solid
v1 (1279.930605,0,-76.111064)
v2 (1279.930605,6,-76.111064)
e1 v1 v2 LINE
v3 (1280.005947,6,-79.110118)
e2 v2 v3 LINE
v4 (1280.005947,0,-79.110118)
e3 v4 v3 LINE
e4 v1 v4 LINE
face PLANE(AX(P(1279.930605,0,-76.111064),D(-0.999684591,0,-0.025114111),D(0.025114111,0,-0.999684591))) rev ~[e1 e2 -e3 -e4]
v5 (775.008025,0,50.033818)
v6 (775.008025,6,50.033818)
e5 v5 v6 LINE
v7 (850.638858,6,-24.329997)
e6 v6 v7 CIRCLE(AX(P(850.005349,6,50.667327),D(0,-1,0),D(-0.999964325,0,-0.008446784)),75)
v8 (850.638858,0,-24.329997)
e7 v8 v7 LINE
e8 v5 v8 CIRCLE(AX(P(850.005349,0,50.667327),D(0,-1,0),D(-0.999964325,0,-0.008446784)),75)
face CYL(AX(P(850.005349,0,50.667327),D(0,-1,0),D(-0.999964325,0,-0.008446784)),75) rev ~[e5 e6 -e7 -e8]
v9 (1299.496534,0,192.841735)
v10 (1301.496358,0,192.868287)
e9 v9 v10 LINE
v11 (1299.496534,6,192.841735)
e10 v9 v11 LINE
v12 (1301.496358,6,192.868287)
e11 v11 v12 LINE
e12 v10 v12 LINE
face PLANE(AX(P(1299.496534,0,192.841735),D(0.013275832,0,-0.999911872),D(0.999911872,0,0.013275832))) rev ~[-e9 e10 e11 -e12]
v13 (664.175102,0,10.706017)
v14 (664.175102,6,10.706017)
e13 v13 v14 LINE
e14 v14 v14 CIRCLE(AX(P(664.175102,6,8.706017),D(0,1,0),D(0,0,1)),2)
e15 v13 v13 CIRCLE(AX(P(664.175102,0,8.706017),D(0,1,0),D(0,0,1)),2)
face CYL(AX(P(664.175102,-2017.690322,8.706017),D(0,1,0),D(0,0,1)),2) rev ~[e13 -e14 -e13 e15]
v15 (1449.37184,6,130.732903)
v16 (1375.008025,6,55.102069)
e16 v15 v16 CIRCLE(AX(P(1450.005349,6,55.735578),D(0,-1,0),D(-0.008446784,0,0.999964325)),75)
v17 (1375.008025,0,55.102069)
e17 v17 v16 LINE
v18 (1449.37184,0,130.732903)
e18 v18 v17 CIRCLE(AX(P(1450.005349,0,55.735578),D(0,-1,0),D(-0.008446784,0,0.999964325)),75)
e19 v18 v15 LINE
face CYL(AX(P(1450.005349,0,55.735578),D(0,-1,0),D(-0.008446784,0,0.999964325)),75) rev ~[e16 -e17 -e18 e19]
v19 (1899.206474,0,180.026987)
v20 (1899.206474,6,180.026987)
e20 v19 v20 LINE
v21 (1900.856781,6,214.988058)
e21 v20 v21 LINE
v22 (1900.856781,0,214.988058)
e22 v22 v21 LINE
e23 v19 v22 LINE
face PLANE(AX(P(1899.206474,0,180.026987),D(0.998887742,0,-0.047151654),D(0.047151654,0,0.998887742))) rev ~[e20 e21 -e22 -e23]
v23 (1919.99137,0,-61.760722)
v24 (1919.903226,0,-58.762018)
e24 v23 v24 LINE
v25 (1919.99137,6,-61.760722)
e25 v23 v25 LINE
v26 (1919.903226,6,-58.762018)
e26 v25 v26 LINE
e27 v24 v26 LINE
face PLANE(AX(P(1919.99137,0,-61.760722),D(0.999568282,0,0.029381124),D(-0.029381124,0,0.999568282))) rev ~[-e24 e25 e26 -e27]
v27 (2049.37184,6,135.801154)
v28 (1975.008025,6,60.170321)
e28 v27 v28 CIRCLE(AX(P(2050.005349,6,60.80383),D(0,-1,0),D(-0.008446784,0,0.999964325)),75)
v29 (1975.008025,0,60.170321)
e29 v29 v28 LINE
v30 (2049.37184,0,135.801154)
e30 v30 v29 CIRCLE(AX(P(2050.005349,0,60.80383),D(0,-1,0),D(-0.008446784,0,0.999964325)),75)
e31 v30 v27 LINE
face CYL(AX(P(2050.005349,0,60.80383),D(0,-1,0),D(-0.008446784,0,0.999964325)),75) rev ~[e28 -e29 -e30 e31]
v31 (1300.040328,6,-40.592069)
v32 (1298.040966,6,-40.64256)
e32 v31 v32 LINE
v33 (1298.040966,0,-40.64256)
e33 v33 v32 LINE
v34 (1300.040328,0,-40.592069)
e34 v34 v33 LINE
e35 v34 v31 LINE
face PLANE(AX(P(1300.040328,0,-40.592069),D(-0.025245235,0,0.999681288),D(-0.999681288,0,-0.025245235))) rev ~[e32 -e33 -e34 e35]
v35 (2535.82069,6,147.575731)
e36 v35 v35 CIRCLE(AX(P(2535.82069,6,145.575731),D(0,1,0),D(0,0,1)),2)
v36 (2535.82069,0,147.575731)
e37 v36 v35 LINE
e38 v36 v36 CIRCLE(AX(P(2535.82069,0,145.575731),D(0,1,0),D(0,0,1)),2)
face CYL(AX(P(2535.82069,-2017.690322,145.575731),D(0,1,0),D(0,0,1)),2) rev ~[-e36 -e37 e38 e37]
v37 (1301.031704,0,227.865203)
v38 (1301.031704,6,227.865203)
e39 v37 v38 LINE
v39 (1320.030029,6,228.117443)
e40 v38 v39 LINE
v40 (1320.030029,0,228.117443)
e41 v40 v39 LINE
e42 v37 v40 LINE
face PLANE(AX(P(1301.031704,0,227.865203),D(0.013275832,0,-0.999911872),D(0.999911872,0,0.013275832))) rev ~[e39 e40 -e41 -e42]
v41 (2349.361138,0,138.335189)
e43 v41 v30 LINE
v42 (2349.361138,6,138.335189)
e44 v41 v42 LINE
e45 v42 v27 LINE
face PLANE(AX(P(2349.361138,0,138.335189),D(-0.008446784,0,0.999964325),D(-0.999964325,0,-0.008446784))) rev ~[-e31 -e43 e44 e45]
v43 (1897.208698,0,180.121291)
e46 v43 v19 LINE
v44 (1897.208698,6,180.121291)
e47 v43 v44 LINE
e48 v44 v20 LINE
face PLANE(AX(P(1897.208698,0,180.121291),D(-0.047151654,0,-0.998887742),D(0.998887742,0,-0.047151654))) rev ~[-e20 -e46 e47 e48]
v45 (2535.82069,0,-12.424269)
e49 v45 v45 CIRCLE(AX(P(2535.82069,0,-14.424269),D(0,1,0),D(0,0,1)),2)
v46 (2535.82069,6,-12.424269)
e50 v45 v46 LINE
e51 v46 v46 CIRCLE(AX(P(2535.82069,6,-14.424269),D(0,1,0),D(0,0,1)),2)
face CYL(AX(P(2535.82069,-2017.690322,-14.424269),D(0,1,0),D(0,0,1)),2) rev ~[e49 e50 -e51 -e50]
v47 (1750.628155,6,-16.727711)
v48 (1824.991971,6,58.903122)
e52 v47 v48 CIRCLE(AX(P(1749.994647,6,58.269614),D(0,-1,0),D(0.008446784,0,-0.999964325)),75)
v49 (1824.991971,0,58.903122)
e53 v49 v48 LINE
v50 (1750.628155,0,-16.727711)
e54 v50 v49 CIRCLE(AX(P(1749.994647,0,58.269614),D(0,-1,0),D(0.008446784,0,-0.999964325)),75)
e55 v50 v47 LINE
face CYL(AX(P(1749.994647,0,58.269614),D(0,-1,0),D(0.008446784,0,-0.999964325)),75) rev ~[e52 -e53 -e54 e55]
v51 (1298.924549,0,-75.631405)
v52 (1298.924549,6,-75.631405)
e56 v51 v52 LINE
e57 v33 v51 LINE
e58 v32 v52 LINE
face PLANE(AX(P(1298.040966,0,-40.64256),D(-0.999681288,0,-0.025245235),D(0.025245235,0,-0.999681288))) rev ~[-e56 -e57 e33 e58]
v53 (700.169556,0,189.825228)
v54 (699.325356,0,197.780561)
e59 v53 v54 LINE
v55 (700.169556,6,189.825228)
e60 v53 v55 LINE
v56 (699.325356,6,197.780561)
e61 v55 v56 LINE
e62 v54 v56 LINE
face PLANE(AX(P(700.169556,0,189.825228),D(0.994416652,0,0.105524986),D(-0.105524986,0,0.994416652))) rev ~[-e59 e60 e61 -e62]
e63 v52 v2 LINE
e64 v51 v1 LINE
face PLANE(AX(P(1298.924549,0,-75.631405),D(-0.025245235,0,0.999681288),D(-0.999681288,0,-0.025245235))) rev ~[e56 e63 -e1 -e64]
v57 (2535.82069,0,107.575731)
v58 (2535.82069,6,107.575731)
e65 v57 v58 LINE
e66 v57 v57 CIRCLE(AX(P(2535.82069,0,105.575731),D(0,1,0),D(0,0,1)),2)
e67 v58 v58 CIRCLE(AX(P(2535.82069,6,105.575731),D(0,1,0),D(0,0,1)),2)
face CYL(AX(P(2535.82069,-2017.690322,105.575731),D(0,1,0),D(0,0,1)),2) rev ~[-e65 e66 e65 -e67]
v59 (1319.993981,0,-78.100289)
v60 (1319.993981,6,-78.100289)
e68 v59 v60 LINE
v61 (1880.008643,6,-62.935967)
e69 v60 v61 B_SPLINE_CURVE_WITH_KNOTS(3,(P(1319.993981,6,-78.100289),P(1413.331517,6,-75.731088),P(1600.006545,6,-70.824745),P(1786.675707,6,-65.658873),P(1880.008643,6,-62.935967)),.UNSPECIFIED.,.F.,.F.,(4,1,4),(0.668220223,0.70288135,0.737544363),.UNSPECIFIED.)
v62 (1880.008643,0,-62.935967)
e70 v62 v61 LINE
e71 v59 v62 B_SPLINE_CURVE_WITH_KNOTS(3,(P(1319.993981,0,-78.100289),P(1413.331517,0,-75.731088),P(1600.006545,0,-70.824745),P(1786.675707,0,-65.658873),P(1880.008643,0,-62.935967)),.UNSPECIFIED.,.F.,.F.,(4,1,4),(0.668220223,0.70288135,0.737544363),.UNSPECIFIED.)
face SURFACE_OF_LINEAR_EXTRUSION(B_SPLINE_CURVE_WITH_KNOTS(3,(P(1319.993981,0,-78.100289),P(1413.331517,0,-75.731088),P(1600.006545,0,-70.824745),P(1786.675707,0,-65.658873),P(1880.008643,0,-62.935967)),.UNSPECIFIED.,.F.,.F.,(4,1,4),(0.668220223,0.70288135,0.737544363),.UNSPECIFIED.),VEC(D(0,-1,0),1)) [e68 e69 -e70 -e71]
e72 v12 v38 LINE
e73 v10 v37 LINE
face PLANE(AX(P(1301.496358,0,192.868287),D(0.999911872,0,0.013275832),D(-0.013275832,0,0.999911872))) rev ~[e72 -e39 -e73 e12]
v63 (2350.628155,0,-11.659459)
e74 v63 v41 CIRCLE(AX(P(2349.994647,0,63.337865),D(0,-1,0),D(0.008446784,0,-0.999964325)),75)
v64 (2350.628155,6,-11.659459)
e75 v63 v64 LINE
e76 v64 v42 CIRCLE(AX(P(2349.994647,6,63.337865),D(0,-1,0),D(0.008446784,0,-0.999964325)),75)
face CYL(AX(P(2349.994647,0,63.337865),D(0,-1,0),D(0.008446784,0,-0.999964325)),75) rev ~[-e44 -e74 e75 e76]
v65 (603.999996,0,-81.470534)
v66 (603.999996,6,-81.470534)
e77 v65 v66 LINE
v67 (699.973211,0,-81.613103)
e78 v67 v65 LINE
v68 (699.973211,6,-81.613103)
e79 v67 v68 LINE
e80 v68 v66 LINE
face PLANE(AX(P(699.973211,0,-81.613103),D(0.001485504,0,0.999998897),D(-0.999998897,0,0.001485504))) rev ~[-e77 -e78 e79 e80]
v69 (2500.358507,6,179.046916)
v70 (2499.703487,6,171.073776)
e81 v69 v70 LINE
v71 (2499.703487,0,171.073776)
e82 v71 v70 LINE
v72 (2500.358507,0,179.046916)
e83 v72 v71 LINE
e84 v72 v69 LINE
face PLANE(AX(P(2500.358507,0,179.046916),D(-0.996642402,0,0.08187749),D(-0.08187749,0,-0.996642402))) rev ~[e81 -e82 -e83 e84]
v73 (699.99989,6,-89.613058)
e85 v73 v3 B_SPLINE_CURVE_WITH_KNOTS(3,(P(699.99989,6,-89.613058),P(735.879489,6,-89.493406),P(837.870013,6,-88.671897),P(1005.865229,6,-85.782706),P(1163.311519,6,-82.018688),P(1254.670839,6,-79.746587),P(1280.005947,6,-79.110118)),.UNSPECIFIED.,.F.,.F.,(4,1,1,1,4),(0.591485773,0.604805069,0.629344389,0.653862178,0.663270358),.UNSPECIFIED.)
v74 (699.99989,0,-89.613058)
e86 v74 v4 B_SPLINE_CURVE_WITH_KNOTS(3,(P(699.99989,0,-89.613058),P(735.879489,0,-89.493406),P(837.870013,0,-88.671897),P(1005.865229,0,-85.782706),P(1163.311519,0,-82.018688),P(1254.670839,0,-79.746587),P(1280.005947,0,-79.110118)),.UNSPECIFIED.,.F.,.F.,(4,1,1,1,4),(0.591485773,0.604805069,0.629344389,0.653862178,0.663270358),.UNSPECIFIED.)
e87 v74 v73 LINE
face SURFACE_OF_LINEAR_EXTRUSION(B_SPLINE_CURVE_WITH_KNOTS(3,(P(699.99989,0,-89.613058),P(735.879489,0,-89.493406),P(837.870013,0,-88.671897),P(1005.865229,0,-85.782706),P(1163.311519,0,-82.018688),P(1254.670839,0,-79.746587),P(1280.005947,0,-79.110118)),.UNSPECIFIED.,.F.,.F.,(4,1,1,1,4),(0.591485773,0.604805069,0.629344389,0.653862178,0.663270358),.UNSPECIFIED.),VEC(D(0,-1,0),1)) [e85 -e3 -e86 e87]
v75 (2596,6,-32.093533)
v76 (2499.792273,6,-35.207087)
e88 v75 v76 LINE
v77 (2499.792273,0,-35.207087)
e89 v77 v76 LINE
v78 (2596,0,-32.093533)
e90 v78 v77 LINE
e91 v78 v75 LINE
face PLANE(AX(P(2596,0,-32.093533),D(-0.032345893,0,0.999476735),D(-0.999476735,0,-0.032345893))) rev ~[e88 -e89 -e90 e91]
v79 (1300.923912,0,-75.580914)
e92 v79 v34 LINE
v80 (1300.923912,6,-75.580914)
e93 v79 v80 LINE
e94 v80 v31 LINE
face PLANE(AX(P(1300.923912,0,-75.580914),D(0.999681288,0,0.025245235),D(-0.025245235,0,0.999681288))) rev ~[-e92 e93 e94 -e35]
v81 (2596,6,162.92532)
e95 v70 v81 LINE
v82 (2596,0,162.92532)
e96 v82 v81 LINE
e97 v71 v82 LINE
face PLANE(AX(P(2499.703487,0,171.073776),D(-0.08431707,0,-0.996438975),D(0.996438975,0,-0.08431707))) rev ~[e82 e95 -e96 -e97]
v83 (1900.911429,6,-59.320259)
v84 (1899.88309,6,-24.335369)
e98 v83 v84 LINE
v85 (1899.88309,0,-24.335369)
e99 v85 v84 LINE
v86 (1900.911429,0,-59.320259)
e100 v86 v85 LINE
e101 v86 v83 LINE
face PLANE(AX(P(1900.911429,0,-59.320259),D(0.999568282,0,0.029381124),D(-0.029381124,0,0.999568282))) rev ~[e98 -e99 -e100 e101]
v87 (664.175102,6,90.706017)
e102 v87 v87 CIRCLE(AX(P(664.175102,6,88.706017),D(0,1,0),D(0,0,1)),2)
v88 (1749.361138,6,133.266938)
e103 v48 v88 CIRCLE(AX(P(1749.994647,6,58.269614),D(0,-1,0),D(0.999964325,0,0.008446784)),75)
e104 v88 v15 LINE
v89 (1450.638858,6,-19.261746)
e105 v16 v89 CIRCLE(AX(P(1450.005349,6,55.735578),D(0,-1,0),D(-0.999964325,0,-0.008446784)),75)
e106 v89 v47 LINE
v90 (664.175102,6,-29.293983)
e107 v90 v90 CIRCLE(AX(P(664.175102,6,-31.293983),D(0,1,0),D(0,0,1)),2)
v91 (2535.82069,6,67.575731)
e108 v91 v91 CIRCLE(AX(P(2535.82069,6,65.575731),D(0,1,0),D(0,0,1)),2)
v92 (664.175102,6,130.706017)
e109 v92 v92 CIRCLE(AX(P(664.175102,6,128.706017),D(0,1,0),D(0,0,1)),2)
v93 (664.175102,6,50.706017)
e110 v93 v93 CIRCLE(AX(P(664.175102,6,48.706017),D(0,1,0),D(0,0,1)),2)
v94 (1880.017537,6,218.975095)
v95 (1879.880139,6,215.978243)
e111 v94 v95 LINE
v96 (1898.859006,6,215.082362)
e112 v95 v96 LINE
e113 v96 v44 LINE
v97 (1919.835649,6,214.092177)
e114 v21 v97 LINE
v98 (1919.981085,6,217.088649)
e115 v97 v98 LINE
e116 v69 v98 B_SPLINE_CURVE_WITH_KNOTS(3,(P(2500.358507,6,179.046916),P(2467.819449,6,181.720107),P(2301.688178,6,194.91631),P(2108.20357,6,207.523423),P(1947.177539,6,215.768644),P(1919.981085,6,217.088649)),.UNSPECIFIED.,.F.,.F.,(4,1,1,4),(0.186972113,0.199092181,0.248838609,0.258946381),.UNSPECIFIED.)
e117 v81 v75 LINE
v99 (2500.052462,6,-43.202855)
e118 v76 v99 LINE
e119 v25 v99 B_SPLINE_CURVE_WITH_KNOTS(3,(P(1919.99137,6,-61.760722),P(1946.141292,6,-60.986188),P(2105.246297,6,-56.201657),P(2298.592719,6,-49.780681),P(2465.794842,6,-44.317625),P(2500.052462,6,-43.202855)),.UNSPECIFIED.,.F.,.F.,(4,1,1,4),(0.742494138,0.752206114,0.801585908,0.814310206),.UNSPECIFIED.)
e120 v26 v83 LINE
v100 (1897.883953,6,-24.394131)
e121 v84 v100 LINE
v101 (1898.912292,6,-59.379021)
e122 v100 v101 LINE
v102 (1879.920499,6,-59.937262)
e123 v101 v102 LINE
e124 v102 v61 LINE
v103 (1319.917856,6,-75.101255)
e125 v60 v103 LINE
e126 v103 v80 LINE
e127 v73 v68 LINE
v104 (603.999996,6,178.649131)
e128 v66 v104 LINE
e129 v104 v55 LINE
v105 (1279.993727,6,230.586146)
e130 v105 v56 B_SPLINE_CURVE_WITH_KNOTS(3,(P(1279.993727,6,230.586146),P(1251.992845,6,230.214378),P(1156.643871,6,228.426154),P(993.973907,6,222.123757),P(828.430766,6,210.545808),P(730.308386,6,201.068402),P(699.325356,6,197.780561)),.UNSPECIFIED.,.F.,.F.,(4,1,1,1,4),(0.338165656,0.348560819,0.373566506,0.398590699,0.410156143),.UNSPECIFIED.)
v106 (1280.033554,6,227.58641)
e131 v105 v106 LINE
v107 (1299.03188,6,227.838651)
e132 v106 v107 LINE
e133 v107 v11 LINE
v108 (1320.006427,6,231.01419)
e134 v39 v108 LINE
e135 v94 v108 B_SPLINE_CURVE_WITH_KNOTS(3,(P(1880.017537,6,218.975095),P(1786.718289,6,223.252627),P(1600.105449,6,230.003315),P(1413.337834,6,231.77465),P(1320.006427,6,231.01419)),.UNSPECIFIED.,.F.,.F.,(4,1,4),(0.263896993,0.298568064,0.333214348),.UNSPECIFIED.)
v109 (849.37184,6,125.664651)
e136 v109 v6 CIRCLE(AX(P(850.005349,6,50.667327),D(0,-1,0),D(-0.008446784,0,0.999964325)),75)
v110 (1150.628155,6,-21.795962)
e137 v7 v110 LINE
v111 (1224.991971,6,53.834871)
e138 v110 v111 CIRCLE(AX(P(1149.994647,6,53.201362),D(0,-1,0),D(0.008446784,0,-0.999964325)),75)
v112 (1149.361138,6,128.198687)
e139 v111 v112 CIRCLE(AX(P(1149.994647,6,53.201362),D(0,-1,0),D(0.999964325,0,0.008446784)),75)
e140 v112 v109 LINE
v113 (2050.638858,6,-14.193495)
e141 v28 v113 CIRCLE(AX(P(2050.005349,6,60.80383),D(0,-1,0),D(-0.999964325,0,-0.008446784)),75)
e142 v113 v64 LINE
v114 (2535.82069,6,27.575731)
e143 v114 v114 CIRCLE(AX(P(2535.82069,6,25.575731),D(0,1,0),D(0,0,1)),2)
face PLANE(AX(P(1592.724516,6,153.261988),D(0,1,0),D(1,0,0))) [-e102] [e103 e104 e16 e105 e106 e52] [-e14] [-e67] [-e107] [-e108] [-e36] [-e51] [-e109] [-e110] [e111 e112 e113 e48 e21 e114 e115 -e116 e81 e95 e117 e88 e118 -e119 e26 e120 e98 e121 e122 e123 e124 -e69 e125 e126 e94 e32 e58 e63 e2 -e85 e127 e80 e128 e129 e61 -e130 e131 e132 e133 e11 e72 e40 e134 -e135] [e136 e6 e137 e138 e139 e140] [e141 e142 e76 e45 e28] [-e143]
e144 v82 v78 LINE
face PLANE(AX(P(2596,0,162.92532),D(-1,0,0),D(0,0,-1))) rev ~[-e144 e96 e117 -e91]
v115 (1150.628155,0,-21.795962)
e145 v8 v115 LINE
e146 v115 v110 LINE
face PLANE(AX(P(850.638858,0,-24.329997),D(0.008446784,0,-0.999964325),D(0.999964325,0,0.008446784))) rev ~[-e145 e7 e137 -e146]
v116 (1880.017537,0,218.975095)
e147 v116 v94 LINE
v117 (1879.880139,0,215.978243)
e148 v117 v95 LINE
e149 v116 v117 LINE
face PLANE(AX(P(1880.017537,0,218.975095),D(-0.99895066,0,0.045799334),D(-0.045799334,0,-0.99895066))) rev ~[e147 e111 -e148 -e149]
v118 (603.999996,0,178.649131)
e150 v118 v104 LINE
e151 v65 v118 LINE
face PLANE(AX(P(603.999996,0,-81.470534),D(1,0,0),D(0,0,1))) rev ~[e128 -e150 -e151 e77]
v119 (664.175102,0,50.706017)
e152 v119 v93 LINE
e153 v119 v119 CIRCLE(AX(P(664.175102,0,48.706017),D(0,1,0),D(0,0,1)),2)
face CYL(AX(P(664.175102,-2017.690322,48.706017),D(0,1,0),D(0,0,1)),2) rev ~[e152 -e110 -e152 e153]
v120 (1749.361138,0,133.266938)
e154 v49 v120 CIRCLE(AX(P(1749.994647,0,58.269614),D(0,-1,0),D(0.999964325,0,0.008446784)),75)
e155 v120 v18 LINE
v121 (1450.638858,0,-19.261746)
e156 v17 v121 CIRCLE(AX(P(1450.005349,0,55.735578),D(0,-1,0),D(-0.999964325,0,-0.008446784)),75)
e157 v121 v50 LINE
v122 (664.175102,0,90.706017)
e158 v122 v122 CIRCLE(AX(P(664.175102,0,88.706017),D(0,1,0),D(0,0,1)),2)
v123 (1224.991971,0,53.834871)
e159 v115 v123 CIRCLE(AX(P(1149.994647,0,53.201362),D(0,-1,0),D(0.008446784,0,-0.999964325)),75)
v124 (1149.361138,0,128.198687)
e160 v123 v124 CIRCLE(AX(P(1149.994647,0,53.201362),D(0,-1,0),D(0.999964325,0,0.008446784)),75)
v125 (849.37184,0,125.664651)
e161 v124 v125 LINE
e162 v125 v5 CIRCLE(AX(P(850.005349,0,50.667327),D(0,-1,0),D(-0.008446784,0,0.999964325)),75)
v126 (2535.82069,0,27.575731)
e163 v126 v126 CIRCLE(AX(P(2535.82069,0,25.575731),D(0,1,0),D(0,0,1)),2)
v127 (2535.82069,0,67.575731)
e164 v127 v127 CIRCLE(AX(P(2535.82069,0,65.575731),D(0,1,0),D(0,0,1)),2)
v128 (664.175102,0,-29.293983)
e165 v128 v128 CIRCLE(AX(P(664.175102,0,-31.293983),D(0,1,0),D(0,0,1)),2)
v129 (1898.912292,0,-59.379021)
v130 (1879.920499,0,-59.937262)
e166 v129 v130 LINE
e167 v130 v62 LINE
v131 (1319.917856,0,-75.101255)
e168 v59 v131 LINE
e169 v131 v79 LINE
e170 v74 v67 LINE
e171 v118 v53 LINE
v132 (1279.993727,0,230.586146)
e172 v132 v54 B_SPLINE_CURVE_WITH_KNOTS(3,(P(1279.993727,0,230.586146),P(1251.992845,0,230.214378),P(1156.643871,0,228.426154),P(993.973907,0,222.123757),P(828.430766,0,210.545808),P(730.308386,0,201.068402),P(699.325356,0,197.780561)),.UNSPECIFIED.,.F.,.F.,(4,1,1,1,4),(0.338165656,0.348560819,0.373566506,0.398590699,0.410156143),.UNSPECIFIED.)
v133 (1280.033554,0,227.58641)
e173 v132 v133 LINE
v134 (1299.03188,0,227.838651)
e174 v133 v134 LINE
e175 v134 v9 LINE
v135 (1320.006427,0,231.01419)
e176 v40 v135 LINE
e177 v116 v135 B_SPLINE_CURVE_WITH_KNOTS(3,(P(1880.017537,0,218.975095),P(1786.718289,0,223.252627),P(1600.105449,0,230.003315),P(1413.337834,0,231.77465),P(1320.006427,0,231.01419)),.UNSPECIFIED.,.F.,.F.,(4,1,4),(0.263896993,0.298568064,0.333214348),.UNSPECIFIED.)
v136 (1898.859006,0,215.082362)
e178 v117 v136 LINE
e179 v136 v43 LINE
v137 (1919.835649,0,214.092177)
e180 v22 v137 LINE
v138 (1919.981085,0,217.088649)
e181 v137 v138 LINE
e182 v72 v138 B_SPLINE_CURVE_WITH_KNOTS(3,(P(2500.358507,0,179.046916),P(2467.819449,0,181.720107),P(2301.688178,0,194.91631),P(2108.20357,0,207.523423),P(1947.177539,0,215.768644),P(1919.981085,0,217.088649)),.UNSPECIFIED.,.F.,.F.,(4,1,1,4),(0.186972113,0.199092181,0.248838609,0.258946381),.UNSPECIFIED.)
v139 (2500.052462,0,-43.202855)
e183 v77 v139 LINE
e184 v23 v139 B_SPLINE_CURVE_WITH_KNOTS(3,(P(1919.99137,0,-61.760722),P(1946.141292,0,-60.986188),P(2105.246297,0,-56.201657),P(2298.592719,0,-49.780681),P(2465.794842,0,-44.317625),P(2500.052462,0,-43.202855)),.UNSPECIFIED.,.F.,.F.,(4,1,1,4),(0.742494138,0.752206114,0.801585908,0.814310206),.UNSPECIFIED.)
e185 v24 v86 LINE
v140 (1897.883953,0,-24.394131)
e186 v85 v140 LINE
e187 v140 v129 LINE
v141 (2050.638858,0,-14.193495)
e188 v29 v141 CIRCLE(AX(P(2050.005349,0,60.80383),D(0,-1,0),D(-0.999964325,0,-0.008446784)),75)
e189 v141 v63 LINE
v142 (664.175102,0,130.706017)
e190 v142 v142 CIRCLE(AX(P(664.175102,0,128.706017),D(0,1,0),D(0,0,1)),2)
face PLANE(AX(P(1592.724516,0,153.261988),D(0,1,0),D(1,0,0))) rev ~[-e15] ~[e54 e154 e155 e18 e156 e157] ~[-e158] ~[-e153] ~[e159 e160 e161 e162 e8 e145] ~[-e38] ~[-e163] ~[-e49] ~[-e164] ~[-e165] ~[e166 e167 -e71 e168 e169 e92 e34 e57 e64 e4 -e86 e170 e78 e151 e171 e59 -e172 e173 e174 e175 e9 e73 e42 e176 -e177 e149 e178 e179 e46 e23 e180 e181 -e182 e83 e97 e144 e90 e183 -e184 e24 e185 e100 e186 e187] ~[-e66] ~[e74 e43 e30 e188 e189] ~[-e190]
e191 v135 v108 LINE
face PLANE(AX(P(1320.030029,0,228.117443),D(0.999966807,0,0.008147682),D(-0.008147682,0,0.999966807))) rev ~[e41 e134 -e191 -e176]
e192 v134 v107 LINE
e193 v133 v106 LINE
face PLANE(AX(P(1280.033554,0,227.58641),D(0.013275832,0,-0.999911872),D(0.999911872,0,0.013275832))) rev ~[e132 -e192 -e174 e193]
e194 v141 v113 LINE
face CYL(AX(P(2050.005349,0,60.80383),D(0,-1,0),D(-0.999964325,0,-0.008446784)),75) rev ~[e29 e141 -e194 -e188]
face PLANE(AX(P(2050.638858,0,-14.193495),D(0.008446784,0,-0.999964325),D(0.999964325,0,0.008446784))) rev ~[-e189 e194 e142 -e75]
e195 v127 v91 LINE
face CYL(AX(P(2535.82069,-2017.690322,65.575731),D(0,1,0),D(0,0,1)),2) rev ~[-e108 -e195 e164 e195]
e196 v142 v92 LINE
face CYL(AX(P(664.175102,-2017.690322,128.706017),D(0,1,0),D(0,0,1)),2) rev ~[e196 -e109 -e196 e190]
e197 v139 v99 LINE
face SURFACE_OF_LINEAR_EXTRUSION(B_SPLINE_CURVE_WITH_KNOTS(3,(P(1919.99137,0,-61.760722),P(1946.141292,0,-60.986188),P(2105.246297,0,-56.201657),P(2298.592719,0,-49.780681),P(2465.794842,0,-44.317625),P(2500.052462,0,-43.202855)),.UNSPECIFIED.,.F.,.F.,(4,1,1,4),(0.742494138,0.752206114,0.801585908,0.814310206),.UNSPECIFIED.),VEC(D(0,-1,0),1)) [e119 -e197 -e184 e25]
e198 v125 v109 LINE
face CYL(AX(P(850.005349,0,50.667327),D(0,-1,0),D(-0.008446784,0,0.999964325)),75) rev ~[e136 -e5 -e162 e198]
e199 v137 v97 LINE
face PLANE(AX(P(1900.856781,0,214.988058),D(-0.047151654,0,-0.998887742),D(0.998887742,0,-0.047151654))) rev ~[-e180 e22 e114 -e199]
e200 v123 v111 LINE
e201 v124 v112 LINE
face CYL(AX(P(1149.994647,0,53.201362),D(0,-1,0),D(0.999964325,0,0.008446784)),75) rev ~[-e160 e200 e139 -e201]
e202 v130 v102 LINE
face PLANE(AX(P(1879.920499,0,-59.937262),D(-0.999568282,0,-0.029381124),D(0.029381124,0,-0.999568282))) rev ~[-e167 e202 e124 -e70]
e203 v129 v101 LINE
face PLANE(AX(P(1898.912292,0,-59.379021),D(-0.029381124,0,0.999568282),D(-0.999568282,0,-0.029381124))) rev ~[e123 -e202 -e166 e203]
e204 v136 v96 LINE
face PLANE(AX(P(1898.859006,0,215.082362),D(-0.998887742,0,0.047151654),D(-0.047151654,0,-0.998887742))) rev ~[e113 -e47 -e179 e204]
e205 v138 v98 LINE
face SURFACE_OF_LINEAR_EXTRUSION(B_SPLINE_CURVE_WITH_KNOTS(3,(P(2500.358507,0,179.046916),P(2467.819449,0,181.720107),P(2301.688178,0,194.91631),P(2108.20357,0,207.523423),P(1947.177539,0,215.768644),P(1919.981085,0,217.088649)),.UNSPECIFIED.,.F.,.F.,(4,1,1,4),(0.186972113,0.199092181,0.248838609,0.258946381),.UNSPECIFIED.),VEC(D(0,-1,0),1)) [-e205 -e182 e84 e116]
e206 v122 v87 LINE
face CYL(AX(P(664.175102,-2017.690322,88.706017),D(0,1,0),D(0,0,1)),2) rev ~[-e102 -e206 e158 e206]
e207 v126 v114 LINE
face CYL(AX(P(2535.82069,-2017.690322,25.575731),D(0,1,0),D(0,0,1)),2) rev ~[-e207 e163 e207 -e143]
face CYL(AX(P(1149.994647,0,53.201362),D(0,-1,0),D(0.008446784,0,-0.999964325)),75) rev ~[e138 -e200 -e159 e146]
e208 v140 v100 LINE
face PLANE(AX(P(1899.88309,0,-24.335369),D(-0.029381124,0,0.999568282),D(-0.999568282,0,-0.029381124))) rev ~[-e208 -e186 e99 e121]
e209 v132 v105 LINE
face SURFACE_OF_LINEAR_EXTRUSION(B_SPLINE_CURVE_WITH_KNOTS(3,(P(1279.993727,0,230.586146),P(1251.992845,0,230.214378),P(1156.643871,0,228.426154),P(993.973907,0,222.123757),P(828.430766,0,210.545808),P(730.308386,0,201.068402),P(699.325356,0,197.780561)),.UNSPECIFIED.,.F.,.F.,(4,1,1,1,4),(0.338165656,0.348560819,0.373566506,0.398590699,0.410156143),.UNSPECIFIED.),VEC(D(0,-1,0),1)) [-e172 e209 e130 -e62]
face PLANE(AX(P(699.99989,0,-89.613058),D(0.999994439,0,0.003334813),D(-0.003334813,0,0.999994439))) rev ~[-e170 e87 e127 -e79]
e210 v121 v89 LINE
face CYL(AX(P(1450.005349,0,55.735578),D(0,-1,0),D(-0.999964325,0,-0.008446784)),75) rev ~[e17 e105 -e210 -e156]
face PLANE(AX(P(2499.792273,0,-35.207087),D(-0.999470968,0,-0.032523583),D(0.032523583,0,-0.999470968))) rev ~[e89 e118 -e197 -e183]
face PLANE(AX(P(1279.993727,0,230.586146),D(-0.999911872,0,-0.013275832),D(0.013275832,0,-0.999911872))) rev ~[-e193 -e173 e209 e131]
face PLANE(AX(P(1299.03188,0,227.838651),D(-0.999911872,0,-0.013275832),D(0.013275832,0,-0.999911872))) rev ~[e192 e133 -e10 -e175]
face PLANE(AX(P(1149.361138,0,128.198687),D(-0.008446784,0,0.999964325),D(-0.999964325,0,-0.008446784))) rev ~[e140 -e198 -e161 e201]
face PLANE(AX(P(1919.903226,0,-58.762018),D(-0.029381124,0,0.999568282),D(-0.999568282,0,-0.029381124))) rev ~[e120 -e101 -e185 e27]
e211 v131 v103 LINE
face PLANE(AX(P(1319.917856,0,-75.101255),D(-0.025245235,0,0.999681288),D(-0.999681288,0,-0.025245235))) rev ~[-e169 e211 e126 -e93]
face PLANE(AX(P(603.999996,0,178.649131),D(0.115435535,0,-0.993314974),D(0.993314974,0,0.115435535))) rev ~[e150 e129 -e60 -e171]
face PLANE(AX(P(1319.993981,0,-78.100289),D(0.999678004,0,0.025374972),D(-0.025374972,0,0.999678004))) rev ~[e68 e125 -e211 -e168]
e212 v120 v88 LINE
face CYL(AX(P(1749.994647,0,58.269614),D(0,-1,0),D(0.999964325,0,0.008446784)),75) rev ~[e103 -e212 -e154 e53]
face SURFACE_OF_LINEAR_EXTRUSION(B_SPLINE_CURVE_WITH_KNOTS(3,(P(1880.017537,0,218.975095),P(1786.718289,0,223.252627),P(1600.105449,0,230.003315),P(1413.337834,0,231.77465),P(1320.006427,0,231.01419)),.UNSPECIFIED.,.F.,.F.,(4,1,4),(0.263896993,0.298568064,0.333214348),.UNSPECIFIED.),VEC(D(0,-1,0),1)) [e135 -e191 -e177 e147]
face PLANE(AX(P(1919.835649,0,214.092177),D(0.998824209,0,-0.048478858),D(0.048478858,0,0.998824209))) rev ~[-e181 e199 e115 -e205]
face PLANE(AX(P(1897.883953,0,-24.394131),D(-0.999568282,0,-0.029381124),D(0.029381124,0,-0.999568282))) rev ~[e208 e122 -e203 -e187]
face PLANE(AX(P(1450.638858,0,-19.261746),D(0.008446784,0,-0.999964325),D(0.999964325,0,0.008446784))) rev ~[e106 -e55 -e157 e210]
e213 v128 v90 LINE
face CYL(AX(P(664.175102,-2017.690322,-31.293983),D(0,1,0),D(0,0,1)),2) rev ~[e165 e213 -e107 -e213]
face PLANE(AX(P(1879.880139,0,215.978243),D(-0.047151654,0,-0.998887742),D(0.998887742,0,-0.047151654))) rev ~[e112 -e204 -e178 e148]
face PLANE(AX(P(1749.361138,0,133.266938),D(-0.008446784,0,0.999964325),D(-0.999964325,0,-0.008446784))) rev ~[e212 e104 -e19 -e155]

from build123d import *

# Parameters (mm, degrees)
BOSS_EXTRUDE1_DEPTH   = 6
F_4_0MM_DOWEL_HOLE1_D = 4
F_4_0MM_DOWEL_HOLE2_D = 4


with BuildPart() as part:
    # Sketch1 → Boss-Extrude1 (new body)
    with BuildSketch(Plane(origin=(0, 0, 0), x_dir=(1, 0, 0), z_dir=(0, 1, 0))):
        with BuildLine():
            Line((2499.703486599, -171.073776325), (2596, -162.925319615))
            Line((2596, -162.925319615), (2596, -65.415893177))
            Line((2596, -65.415893177), (2424.991970984, -63.971373722))
            ThreePointArc((2424.991970984, -63.971373722), (2402.577804859, -116.816939936), (2349.361137771, -138.3351893))
            Line((2349.361137771, -138.3351893), (2049.371840186, -135.801154032))
            ThreePointArc((2049.371840186, -135.801154032), (1996.526273972, -113.386987906), (1975.008024607, -60.170320818))
            Line((1975.008024607, -60.170320818), (1824.991970984, -58.903122375))
            ThreePointArc((1824.991970984, -58.903122375), (1802.577804859, -111.74868859), (1749.361137771, -133.266937954))
            Line((1749.361137771, -133.266937954), (1449.371840186, -130.732902685))
            ThreePointArc((1449.371840186, -130.732902685), (1396.526273972, -108.31873656), (1375.008024607, -55.102069472))
            Line((1375.008024607, -55.102069472), (1224.991970984, -53.834871029))
            ThreePointArc((1224.991970984, -53.834871029), (1202.577804859, -106.680437244), (1149.361137771, -128.198686608))
            Line((1149.361137771, -128.198686608), (849.371840186, -125.664651339))
            ThreePointArc((849.371840186, -125.664651339), (796.526273972, -103.250485214), (775.008024607, -50.033818126))
            Line((775.008024607, -50.033818126), (603.999995592, -48.58929867))
            Line((603.999995592, -48.58929867), (603.999995592, -178.649131079))
            Line((603.999995592, -178.649131079), (700.169555672, -189.82522818))
            Line((700.169555672, -189.82522818), (699.325355788, -197.780561394))
            add(Edge.make_bspline(
                [(1279.993726967, -230.586145743), (1251.992845438, -230.214377978), (1156.643871099, -228.426153503), (993.973907449, -222.123757287), (828.430766092, -210.545808412), (730.308385941, -201.068402366), (699.325355788, -197.780561394)],
                knots=[0.338165656, 0.338165656, 0.338165656, 0.338165656, 0.348560819, 0.373566506, 0.398590699, 0.410156143, 0.410156143, 0.410156143, 0.410156143], degree=3))
            Line((1279.993726967, -230.586145743), (1280.033554464, -227.586410126))
            Line((1280.033554464, -227.586410126), (1299.031880037, -227.838650935))
            Line((1299.031880037, -227.838650935), (1299.496534159, -192.841735406))
            Line((1299.496534159, -192.841735406), (1301.496357904, -192.86828707))
            Line((1301.496357904, -192.86828707), (1301.031703781, -227.865202599))
            Line((1301.031703781, -227.865202599), (1320.030029354, -228.117443409))
            Line((1320.030029354, -228.117443409), (1320.006426802, -231.014189882))
            add(Edge.make_bspline(
                [(1880.017536915, -218.975094986), (1786.718289466, -223.252626978), (1600.105449253, -230.003314719), (1413.337833656, -231.774649729), (1320.006426802, -231.014189882)],
                knots=[0.263896993, 0.263896993, 0.263896993, 0.263896993, 0.298568064, 0.333214348, 0.333214348, 0.333214348, 0.333214348], degree=3))
            Line((1880.017536915, -218.975094986), (1879.880138913, -215.978243006))
            Line((1879.880138913, -215.978243006), (1898.859006014, -215.082361576))
            Line((1898.859006014, -215.082361576), (1897.208698115, -180.121290599))
            Line((1897.208698115, -180.121290599), (1899.2064736, -180.02698729))
            Line((1899.2064736, -180.02698729), (1900.856781499, -214.988058267))
            Line((1900.856781499, -214.988058267), (1919.8356486, -214.092176836))
            Line((1919.8356486, -214.092176836), (1919.981085174, -217.088649463))
            add(Edge.make_bspline(
                [(2500.358506516, -179.046915538), (2467.819448595, -181.720107419), (2301.688178219, -194.916310103), (2108.203569807, -207.523423052), (1947.177539067, -215.76864439), (1919.981085174, -217.088649463)],
                knots=[0.186972113, 0.186972113, 0.186972113, 0.186972113, 0.199092181, 0.248838609, 0.258946381, 0.258946381, 0.258946381, 0.258946381], degree=3))
            Line((2500.358506516, -179.046915538), (2499.703486599, -171.073776325))
        make_face()
        with BuildLine():
            Line((2499.792273349, 35.207087267), (2500.052462016, 43.202855013))
            add(Edge.make_bspline(
                [(1919.991369728, 61.760722375), (1946.141292077, 60.986188213), (2105.246296635, 56.201656656), (2298.592719455, 49.780680894), (2465.794842369, 44.317625311), (2500.052462016, 43.202855013)],
                knots=[0.742494138, 0.742494138, 0.742494138, 0.742494138, 0.752206114, 0.801585908, 0.814310206, 0.814310206, 0.814310206, 0.814310206], degree=3))
            Line((1919.991369728, 61.760722375), (1919.903226355, 58.762017531))
            Line((1919.903226355, 58.762017531), (1900.911429005, 59.320258891))
            Line((1900.911429005, 59.320258891), (1899.883089657, 24.335369036))
            Line((1899.883089657, 24.335369036), (1897.883953094, 24.394131284))
            Line((1897.883953094, 24.394131284), (1898.912292442, 59.379021139))
            Line((1898.912292442, 59.379021139), (1879.920499189, 59.93726238))
            Line((1879.920499189, 59.93726238), (1880.008642561, 62.935967224))
            add(Edge.make_bspline(
                [(1319.993980998, 78.100288692), (1413.331517369, 75.731088455), (1600.006544772, 70.824745257), (1786.675707055, 65.658872993), (1880.008642561, 62.935967224)],
                knots=[0.668220223, 0.668220223, 0.668220223, 0.668220223, 0.70288135, 0.737544363, 0.737544363, 0.737544363, 0.737544363], degree=3))
            Line((1319.993980998, 78.100288692), (1319.917856082, 75.101254681))
            Line((1319.917856082, 75.101254681), (1300.923911605, 75.580914146))
            Line((1300.923911605, 75.580914146), (1300.040328379, 40.592069057))
            Line((1300.040328379, 40.592069057), (1298.040965803, 40.642559527))
            Line((1298.040965803, 40.642559527), (1298.924549029, 75.631404616))
            Line((1298.924549029, 75.631404616), (1279.930604552, 76.111064082))
            Line((1279.930604552, 76.111064082), (1280.005946886, 79.110117855))
            add(Edge.make_bspline(
                [(699.999889789, 89.613058052), (735.879488596, 89.493405625), (837.870012607, 88.671897295), (1005.865228965, 85.782705717), (1163.311518707, 82.018687941), (1254.670838845, 79.746587332), (1280.005946886, 79.110117855)],
                knots=[0.591485773, 0.591485773, 0.591485773, 0.591485773, 0.604805069, 0.629344389, 0.653862178, 0.663270358, 0.663270358, 0.663270358, 0.663270358], degree=3))
            Line((699.999889789, 89.613058052), (699.973211283, 81.613102536))
            Line((699.973211283, 81.613102536), (603.999995592, 81.470533738))
            Line((603.999995592, 81.470533738), (603.999995592, -48.58929867))
            Line((603.999995592, -48.58929867), (775.008024607, -50.033818126))
            ThreePointArc((775.008024607, -50.033818126), (797.422190733, 2.811748089), (850.638857821, 24.329997453))
            Line((850.638857821, 24.329997453), (1150.628155405, 21.795962184))
            ThreePointArc((1150.628155405, 21.795962184), (1203.47372162, -0.618203941), (1224.991970984, -53.834871029))
            Line((1224.991970984, -53.834871029), (1375.008024607, -55.102069472))
            ThreePointArc((1375.008024607, -55.102069472), (1397.422190733, -2.256503257), (1450.638857821, 19.261746107))
            Line((1450.638857821, 19.261746107), (1750.628155405, 16.727710838))
            ThreePointArc((1750.628155405, 16.727710838), (1803.47372162, -5.686455287), (1824.991970984, -58.903122375))
            Line((1824.991970984, -58.903122375), (1975.008024607, -60.170320818))
            ThreePointArc((1975.008024607, -60.170320818), (1997.422190733, -7.324754603), (2050.638857821, 14.193494761))
            Line((2050.638857821, 14.193494761), (2350.628155405, 11.659459492))
            ThreePointArc((2350.628155405, 11.659459492), (2403.47372162, -10.754706634), (2424.991970984, -63.971373722))
            Line((2424.991970984, -63.971373722), (2596, -65.415893177))
            Line((2596, -65.415893177), (2596, 32.093533261))
            Line((2596, 32.093533261), (2499.792273349, 35.207087267))
        make_face()
    extrude(amount=BOSS_EXTRUDE1_DEPTH)

    # Ø4.0mm Dowel Hole1 (through all)
    with Locations(Plane(origin=(2535.820689775, 0, 65.575730663), x_dir=(0, 0, -1), z_dir=(0, -1, 0))):
        with Locations((0, 0), (-40, 0), (-80, 0), (40, 0), (80, 0)):
            Hole(F_4_0MM_DOWEL_HOLE1_D / 2)

    # Ø4.0mm Dowel Hole2 (through all)
    with Locations(Plane(origin=(664.175101974, 0, 48.706016617), x_dir=(0, 0, -1), z_dir=(0, -1, 0))):
        with Locations((0, 0), (-80, 0), (-40, 0), (80, 0), (40, 0)):
            Hole(F_4_0MM_DOWEL_HOLE2_D / 2)


solid = part.part
